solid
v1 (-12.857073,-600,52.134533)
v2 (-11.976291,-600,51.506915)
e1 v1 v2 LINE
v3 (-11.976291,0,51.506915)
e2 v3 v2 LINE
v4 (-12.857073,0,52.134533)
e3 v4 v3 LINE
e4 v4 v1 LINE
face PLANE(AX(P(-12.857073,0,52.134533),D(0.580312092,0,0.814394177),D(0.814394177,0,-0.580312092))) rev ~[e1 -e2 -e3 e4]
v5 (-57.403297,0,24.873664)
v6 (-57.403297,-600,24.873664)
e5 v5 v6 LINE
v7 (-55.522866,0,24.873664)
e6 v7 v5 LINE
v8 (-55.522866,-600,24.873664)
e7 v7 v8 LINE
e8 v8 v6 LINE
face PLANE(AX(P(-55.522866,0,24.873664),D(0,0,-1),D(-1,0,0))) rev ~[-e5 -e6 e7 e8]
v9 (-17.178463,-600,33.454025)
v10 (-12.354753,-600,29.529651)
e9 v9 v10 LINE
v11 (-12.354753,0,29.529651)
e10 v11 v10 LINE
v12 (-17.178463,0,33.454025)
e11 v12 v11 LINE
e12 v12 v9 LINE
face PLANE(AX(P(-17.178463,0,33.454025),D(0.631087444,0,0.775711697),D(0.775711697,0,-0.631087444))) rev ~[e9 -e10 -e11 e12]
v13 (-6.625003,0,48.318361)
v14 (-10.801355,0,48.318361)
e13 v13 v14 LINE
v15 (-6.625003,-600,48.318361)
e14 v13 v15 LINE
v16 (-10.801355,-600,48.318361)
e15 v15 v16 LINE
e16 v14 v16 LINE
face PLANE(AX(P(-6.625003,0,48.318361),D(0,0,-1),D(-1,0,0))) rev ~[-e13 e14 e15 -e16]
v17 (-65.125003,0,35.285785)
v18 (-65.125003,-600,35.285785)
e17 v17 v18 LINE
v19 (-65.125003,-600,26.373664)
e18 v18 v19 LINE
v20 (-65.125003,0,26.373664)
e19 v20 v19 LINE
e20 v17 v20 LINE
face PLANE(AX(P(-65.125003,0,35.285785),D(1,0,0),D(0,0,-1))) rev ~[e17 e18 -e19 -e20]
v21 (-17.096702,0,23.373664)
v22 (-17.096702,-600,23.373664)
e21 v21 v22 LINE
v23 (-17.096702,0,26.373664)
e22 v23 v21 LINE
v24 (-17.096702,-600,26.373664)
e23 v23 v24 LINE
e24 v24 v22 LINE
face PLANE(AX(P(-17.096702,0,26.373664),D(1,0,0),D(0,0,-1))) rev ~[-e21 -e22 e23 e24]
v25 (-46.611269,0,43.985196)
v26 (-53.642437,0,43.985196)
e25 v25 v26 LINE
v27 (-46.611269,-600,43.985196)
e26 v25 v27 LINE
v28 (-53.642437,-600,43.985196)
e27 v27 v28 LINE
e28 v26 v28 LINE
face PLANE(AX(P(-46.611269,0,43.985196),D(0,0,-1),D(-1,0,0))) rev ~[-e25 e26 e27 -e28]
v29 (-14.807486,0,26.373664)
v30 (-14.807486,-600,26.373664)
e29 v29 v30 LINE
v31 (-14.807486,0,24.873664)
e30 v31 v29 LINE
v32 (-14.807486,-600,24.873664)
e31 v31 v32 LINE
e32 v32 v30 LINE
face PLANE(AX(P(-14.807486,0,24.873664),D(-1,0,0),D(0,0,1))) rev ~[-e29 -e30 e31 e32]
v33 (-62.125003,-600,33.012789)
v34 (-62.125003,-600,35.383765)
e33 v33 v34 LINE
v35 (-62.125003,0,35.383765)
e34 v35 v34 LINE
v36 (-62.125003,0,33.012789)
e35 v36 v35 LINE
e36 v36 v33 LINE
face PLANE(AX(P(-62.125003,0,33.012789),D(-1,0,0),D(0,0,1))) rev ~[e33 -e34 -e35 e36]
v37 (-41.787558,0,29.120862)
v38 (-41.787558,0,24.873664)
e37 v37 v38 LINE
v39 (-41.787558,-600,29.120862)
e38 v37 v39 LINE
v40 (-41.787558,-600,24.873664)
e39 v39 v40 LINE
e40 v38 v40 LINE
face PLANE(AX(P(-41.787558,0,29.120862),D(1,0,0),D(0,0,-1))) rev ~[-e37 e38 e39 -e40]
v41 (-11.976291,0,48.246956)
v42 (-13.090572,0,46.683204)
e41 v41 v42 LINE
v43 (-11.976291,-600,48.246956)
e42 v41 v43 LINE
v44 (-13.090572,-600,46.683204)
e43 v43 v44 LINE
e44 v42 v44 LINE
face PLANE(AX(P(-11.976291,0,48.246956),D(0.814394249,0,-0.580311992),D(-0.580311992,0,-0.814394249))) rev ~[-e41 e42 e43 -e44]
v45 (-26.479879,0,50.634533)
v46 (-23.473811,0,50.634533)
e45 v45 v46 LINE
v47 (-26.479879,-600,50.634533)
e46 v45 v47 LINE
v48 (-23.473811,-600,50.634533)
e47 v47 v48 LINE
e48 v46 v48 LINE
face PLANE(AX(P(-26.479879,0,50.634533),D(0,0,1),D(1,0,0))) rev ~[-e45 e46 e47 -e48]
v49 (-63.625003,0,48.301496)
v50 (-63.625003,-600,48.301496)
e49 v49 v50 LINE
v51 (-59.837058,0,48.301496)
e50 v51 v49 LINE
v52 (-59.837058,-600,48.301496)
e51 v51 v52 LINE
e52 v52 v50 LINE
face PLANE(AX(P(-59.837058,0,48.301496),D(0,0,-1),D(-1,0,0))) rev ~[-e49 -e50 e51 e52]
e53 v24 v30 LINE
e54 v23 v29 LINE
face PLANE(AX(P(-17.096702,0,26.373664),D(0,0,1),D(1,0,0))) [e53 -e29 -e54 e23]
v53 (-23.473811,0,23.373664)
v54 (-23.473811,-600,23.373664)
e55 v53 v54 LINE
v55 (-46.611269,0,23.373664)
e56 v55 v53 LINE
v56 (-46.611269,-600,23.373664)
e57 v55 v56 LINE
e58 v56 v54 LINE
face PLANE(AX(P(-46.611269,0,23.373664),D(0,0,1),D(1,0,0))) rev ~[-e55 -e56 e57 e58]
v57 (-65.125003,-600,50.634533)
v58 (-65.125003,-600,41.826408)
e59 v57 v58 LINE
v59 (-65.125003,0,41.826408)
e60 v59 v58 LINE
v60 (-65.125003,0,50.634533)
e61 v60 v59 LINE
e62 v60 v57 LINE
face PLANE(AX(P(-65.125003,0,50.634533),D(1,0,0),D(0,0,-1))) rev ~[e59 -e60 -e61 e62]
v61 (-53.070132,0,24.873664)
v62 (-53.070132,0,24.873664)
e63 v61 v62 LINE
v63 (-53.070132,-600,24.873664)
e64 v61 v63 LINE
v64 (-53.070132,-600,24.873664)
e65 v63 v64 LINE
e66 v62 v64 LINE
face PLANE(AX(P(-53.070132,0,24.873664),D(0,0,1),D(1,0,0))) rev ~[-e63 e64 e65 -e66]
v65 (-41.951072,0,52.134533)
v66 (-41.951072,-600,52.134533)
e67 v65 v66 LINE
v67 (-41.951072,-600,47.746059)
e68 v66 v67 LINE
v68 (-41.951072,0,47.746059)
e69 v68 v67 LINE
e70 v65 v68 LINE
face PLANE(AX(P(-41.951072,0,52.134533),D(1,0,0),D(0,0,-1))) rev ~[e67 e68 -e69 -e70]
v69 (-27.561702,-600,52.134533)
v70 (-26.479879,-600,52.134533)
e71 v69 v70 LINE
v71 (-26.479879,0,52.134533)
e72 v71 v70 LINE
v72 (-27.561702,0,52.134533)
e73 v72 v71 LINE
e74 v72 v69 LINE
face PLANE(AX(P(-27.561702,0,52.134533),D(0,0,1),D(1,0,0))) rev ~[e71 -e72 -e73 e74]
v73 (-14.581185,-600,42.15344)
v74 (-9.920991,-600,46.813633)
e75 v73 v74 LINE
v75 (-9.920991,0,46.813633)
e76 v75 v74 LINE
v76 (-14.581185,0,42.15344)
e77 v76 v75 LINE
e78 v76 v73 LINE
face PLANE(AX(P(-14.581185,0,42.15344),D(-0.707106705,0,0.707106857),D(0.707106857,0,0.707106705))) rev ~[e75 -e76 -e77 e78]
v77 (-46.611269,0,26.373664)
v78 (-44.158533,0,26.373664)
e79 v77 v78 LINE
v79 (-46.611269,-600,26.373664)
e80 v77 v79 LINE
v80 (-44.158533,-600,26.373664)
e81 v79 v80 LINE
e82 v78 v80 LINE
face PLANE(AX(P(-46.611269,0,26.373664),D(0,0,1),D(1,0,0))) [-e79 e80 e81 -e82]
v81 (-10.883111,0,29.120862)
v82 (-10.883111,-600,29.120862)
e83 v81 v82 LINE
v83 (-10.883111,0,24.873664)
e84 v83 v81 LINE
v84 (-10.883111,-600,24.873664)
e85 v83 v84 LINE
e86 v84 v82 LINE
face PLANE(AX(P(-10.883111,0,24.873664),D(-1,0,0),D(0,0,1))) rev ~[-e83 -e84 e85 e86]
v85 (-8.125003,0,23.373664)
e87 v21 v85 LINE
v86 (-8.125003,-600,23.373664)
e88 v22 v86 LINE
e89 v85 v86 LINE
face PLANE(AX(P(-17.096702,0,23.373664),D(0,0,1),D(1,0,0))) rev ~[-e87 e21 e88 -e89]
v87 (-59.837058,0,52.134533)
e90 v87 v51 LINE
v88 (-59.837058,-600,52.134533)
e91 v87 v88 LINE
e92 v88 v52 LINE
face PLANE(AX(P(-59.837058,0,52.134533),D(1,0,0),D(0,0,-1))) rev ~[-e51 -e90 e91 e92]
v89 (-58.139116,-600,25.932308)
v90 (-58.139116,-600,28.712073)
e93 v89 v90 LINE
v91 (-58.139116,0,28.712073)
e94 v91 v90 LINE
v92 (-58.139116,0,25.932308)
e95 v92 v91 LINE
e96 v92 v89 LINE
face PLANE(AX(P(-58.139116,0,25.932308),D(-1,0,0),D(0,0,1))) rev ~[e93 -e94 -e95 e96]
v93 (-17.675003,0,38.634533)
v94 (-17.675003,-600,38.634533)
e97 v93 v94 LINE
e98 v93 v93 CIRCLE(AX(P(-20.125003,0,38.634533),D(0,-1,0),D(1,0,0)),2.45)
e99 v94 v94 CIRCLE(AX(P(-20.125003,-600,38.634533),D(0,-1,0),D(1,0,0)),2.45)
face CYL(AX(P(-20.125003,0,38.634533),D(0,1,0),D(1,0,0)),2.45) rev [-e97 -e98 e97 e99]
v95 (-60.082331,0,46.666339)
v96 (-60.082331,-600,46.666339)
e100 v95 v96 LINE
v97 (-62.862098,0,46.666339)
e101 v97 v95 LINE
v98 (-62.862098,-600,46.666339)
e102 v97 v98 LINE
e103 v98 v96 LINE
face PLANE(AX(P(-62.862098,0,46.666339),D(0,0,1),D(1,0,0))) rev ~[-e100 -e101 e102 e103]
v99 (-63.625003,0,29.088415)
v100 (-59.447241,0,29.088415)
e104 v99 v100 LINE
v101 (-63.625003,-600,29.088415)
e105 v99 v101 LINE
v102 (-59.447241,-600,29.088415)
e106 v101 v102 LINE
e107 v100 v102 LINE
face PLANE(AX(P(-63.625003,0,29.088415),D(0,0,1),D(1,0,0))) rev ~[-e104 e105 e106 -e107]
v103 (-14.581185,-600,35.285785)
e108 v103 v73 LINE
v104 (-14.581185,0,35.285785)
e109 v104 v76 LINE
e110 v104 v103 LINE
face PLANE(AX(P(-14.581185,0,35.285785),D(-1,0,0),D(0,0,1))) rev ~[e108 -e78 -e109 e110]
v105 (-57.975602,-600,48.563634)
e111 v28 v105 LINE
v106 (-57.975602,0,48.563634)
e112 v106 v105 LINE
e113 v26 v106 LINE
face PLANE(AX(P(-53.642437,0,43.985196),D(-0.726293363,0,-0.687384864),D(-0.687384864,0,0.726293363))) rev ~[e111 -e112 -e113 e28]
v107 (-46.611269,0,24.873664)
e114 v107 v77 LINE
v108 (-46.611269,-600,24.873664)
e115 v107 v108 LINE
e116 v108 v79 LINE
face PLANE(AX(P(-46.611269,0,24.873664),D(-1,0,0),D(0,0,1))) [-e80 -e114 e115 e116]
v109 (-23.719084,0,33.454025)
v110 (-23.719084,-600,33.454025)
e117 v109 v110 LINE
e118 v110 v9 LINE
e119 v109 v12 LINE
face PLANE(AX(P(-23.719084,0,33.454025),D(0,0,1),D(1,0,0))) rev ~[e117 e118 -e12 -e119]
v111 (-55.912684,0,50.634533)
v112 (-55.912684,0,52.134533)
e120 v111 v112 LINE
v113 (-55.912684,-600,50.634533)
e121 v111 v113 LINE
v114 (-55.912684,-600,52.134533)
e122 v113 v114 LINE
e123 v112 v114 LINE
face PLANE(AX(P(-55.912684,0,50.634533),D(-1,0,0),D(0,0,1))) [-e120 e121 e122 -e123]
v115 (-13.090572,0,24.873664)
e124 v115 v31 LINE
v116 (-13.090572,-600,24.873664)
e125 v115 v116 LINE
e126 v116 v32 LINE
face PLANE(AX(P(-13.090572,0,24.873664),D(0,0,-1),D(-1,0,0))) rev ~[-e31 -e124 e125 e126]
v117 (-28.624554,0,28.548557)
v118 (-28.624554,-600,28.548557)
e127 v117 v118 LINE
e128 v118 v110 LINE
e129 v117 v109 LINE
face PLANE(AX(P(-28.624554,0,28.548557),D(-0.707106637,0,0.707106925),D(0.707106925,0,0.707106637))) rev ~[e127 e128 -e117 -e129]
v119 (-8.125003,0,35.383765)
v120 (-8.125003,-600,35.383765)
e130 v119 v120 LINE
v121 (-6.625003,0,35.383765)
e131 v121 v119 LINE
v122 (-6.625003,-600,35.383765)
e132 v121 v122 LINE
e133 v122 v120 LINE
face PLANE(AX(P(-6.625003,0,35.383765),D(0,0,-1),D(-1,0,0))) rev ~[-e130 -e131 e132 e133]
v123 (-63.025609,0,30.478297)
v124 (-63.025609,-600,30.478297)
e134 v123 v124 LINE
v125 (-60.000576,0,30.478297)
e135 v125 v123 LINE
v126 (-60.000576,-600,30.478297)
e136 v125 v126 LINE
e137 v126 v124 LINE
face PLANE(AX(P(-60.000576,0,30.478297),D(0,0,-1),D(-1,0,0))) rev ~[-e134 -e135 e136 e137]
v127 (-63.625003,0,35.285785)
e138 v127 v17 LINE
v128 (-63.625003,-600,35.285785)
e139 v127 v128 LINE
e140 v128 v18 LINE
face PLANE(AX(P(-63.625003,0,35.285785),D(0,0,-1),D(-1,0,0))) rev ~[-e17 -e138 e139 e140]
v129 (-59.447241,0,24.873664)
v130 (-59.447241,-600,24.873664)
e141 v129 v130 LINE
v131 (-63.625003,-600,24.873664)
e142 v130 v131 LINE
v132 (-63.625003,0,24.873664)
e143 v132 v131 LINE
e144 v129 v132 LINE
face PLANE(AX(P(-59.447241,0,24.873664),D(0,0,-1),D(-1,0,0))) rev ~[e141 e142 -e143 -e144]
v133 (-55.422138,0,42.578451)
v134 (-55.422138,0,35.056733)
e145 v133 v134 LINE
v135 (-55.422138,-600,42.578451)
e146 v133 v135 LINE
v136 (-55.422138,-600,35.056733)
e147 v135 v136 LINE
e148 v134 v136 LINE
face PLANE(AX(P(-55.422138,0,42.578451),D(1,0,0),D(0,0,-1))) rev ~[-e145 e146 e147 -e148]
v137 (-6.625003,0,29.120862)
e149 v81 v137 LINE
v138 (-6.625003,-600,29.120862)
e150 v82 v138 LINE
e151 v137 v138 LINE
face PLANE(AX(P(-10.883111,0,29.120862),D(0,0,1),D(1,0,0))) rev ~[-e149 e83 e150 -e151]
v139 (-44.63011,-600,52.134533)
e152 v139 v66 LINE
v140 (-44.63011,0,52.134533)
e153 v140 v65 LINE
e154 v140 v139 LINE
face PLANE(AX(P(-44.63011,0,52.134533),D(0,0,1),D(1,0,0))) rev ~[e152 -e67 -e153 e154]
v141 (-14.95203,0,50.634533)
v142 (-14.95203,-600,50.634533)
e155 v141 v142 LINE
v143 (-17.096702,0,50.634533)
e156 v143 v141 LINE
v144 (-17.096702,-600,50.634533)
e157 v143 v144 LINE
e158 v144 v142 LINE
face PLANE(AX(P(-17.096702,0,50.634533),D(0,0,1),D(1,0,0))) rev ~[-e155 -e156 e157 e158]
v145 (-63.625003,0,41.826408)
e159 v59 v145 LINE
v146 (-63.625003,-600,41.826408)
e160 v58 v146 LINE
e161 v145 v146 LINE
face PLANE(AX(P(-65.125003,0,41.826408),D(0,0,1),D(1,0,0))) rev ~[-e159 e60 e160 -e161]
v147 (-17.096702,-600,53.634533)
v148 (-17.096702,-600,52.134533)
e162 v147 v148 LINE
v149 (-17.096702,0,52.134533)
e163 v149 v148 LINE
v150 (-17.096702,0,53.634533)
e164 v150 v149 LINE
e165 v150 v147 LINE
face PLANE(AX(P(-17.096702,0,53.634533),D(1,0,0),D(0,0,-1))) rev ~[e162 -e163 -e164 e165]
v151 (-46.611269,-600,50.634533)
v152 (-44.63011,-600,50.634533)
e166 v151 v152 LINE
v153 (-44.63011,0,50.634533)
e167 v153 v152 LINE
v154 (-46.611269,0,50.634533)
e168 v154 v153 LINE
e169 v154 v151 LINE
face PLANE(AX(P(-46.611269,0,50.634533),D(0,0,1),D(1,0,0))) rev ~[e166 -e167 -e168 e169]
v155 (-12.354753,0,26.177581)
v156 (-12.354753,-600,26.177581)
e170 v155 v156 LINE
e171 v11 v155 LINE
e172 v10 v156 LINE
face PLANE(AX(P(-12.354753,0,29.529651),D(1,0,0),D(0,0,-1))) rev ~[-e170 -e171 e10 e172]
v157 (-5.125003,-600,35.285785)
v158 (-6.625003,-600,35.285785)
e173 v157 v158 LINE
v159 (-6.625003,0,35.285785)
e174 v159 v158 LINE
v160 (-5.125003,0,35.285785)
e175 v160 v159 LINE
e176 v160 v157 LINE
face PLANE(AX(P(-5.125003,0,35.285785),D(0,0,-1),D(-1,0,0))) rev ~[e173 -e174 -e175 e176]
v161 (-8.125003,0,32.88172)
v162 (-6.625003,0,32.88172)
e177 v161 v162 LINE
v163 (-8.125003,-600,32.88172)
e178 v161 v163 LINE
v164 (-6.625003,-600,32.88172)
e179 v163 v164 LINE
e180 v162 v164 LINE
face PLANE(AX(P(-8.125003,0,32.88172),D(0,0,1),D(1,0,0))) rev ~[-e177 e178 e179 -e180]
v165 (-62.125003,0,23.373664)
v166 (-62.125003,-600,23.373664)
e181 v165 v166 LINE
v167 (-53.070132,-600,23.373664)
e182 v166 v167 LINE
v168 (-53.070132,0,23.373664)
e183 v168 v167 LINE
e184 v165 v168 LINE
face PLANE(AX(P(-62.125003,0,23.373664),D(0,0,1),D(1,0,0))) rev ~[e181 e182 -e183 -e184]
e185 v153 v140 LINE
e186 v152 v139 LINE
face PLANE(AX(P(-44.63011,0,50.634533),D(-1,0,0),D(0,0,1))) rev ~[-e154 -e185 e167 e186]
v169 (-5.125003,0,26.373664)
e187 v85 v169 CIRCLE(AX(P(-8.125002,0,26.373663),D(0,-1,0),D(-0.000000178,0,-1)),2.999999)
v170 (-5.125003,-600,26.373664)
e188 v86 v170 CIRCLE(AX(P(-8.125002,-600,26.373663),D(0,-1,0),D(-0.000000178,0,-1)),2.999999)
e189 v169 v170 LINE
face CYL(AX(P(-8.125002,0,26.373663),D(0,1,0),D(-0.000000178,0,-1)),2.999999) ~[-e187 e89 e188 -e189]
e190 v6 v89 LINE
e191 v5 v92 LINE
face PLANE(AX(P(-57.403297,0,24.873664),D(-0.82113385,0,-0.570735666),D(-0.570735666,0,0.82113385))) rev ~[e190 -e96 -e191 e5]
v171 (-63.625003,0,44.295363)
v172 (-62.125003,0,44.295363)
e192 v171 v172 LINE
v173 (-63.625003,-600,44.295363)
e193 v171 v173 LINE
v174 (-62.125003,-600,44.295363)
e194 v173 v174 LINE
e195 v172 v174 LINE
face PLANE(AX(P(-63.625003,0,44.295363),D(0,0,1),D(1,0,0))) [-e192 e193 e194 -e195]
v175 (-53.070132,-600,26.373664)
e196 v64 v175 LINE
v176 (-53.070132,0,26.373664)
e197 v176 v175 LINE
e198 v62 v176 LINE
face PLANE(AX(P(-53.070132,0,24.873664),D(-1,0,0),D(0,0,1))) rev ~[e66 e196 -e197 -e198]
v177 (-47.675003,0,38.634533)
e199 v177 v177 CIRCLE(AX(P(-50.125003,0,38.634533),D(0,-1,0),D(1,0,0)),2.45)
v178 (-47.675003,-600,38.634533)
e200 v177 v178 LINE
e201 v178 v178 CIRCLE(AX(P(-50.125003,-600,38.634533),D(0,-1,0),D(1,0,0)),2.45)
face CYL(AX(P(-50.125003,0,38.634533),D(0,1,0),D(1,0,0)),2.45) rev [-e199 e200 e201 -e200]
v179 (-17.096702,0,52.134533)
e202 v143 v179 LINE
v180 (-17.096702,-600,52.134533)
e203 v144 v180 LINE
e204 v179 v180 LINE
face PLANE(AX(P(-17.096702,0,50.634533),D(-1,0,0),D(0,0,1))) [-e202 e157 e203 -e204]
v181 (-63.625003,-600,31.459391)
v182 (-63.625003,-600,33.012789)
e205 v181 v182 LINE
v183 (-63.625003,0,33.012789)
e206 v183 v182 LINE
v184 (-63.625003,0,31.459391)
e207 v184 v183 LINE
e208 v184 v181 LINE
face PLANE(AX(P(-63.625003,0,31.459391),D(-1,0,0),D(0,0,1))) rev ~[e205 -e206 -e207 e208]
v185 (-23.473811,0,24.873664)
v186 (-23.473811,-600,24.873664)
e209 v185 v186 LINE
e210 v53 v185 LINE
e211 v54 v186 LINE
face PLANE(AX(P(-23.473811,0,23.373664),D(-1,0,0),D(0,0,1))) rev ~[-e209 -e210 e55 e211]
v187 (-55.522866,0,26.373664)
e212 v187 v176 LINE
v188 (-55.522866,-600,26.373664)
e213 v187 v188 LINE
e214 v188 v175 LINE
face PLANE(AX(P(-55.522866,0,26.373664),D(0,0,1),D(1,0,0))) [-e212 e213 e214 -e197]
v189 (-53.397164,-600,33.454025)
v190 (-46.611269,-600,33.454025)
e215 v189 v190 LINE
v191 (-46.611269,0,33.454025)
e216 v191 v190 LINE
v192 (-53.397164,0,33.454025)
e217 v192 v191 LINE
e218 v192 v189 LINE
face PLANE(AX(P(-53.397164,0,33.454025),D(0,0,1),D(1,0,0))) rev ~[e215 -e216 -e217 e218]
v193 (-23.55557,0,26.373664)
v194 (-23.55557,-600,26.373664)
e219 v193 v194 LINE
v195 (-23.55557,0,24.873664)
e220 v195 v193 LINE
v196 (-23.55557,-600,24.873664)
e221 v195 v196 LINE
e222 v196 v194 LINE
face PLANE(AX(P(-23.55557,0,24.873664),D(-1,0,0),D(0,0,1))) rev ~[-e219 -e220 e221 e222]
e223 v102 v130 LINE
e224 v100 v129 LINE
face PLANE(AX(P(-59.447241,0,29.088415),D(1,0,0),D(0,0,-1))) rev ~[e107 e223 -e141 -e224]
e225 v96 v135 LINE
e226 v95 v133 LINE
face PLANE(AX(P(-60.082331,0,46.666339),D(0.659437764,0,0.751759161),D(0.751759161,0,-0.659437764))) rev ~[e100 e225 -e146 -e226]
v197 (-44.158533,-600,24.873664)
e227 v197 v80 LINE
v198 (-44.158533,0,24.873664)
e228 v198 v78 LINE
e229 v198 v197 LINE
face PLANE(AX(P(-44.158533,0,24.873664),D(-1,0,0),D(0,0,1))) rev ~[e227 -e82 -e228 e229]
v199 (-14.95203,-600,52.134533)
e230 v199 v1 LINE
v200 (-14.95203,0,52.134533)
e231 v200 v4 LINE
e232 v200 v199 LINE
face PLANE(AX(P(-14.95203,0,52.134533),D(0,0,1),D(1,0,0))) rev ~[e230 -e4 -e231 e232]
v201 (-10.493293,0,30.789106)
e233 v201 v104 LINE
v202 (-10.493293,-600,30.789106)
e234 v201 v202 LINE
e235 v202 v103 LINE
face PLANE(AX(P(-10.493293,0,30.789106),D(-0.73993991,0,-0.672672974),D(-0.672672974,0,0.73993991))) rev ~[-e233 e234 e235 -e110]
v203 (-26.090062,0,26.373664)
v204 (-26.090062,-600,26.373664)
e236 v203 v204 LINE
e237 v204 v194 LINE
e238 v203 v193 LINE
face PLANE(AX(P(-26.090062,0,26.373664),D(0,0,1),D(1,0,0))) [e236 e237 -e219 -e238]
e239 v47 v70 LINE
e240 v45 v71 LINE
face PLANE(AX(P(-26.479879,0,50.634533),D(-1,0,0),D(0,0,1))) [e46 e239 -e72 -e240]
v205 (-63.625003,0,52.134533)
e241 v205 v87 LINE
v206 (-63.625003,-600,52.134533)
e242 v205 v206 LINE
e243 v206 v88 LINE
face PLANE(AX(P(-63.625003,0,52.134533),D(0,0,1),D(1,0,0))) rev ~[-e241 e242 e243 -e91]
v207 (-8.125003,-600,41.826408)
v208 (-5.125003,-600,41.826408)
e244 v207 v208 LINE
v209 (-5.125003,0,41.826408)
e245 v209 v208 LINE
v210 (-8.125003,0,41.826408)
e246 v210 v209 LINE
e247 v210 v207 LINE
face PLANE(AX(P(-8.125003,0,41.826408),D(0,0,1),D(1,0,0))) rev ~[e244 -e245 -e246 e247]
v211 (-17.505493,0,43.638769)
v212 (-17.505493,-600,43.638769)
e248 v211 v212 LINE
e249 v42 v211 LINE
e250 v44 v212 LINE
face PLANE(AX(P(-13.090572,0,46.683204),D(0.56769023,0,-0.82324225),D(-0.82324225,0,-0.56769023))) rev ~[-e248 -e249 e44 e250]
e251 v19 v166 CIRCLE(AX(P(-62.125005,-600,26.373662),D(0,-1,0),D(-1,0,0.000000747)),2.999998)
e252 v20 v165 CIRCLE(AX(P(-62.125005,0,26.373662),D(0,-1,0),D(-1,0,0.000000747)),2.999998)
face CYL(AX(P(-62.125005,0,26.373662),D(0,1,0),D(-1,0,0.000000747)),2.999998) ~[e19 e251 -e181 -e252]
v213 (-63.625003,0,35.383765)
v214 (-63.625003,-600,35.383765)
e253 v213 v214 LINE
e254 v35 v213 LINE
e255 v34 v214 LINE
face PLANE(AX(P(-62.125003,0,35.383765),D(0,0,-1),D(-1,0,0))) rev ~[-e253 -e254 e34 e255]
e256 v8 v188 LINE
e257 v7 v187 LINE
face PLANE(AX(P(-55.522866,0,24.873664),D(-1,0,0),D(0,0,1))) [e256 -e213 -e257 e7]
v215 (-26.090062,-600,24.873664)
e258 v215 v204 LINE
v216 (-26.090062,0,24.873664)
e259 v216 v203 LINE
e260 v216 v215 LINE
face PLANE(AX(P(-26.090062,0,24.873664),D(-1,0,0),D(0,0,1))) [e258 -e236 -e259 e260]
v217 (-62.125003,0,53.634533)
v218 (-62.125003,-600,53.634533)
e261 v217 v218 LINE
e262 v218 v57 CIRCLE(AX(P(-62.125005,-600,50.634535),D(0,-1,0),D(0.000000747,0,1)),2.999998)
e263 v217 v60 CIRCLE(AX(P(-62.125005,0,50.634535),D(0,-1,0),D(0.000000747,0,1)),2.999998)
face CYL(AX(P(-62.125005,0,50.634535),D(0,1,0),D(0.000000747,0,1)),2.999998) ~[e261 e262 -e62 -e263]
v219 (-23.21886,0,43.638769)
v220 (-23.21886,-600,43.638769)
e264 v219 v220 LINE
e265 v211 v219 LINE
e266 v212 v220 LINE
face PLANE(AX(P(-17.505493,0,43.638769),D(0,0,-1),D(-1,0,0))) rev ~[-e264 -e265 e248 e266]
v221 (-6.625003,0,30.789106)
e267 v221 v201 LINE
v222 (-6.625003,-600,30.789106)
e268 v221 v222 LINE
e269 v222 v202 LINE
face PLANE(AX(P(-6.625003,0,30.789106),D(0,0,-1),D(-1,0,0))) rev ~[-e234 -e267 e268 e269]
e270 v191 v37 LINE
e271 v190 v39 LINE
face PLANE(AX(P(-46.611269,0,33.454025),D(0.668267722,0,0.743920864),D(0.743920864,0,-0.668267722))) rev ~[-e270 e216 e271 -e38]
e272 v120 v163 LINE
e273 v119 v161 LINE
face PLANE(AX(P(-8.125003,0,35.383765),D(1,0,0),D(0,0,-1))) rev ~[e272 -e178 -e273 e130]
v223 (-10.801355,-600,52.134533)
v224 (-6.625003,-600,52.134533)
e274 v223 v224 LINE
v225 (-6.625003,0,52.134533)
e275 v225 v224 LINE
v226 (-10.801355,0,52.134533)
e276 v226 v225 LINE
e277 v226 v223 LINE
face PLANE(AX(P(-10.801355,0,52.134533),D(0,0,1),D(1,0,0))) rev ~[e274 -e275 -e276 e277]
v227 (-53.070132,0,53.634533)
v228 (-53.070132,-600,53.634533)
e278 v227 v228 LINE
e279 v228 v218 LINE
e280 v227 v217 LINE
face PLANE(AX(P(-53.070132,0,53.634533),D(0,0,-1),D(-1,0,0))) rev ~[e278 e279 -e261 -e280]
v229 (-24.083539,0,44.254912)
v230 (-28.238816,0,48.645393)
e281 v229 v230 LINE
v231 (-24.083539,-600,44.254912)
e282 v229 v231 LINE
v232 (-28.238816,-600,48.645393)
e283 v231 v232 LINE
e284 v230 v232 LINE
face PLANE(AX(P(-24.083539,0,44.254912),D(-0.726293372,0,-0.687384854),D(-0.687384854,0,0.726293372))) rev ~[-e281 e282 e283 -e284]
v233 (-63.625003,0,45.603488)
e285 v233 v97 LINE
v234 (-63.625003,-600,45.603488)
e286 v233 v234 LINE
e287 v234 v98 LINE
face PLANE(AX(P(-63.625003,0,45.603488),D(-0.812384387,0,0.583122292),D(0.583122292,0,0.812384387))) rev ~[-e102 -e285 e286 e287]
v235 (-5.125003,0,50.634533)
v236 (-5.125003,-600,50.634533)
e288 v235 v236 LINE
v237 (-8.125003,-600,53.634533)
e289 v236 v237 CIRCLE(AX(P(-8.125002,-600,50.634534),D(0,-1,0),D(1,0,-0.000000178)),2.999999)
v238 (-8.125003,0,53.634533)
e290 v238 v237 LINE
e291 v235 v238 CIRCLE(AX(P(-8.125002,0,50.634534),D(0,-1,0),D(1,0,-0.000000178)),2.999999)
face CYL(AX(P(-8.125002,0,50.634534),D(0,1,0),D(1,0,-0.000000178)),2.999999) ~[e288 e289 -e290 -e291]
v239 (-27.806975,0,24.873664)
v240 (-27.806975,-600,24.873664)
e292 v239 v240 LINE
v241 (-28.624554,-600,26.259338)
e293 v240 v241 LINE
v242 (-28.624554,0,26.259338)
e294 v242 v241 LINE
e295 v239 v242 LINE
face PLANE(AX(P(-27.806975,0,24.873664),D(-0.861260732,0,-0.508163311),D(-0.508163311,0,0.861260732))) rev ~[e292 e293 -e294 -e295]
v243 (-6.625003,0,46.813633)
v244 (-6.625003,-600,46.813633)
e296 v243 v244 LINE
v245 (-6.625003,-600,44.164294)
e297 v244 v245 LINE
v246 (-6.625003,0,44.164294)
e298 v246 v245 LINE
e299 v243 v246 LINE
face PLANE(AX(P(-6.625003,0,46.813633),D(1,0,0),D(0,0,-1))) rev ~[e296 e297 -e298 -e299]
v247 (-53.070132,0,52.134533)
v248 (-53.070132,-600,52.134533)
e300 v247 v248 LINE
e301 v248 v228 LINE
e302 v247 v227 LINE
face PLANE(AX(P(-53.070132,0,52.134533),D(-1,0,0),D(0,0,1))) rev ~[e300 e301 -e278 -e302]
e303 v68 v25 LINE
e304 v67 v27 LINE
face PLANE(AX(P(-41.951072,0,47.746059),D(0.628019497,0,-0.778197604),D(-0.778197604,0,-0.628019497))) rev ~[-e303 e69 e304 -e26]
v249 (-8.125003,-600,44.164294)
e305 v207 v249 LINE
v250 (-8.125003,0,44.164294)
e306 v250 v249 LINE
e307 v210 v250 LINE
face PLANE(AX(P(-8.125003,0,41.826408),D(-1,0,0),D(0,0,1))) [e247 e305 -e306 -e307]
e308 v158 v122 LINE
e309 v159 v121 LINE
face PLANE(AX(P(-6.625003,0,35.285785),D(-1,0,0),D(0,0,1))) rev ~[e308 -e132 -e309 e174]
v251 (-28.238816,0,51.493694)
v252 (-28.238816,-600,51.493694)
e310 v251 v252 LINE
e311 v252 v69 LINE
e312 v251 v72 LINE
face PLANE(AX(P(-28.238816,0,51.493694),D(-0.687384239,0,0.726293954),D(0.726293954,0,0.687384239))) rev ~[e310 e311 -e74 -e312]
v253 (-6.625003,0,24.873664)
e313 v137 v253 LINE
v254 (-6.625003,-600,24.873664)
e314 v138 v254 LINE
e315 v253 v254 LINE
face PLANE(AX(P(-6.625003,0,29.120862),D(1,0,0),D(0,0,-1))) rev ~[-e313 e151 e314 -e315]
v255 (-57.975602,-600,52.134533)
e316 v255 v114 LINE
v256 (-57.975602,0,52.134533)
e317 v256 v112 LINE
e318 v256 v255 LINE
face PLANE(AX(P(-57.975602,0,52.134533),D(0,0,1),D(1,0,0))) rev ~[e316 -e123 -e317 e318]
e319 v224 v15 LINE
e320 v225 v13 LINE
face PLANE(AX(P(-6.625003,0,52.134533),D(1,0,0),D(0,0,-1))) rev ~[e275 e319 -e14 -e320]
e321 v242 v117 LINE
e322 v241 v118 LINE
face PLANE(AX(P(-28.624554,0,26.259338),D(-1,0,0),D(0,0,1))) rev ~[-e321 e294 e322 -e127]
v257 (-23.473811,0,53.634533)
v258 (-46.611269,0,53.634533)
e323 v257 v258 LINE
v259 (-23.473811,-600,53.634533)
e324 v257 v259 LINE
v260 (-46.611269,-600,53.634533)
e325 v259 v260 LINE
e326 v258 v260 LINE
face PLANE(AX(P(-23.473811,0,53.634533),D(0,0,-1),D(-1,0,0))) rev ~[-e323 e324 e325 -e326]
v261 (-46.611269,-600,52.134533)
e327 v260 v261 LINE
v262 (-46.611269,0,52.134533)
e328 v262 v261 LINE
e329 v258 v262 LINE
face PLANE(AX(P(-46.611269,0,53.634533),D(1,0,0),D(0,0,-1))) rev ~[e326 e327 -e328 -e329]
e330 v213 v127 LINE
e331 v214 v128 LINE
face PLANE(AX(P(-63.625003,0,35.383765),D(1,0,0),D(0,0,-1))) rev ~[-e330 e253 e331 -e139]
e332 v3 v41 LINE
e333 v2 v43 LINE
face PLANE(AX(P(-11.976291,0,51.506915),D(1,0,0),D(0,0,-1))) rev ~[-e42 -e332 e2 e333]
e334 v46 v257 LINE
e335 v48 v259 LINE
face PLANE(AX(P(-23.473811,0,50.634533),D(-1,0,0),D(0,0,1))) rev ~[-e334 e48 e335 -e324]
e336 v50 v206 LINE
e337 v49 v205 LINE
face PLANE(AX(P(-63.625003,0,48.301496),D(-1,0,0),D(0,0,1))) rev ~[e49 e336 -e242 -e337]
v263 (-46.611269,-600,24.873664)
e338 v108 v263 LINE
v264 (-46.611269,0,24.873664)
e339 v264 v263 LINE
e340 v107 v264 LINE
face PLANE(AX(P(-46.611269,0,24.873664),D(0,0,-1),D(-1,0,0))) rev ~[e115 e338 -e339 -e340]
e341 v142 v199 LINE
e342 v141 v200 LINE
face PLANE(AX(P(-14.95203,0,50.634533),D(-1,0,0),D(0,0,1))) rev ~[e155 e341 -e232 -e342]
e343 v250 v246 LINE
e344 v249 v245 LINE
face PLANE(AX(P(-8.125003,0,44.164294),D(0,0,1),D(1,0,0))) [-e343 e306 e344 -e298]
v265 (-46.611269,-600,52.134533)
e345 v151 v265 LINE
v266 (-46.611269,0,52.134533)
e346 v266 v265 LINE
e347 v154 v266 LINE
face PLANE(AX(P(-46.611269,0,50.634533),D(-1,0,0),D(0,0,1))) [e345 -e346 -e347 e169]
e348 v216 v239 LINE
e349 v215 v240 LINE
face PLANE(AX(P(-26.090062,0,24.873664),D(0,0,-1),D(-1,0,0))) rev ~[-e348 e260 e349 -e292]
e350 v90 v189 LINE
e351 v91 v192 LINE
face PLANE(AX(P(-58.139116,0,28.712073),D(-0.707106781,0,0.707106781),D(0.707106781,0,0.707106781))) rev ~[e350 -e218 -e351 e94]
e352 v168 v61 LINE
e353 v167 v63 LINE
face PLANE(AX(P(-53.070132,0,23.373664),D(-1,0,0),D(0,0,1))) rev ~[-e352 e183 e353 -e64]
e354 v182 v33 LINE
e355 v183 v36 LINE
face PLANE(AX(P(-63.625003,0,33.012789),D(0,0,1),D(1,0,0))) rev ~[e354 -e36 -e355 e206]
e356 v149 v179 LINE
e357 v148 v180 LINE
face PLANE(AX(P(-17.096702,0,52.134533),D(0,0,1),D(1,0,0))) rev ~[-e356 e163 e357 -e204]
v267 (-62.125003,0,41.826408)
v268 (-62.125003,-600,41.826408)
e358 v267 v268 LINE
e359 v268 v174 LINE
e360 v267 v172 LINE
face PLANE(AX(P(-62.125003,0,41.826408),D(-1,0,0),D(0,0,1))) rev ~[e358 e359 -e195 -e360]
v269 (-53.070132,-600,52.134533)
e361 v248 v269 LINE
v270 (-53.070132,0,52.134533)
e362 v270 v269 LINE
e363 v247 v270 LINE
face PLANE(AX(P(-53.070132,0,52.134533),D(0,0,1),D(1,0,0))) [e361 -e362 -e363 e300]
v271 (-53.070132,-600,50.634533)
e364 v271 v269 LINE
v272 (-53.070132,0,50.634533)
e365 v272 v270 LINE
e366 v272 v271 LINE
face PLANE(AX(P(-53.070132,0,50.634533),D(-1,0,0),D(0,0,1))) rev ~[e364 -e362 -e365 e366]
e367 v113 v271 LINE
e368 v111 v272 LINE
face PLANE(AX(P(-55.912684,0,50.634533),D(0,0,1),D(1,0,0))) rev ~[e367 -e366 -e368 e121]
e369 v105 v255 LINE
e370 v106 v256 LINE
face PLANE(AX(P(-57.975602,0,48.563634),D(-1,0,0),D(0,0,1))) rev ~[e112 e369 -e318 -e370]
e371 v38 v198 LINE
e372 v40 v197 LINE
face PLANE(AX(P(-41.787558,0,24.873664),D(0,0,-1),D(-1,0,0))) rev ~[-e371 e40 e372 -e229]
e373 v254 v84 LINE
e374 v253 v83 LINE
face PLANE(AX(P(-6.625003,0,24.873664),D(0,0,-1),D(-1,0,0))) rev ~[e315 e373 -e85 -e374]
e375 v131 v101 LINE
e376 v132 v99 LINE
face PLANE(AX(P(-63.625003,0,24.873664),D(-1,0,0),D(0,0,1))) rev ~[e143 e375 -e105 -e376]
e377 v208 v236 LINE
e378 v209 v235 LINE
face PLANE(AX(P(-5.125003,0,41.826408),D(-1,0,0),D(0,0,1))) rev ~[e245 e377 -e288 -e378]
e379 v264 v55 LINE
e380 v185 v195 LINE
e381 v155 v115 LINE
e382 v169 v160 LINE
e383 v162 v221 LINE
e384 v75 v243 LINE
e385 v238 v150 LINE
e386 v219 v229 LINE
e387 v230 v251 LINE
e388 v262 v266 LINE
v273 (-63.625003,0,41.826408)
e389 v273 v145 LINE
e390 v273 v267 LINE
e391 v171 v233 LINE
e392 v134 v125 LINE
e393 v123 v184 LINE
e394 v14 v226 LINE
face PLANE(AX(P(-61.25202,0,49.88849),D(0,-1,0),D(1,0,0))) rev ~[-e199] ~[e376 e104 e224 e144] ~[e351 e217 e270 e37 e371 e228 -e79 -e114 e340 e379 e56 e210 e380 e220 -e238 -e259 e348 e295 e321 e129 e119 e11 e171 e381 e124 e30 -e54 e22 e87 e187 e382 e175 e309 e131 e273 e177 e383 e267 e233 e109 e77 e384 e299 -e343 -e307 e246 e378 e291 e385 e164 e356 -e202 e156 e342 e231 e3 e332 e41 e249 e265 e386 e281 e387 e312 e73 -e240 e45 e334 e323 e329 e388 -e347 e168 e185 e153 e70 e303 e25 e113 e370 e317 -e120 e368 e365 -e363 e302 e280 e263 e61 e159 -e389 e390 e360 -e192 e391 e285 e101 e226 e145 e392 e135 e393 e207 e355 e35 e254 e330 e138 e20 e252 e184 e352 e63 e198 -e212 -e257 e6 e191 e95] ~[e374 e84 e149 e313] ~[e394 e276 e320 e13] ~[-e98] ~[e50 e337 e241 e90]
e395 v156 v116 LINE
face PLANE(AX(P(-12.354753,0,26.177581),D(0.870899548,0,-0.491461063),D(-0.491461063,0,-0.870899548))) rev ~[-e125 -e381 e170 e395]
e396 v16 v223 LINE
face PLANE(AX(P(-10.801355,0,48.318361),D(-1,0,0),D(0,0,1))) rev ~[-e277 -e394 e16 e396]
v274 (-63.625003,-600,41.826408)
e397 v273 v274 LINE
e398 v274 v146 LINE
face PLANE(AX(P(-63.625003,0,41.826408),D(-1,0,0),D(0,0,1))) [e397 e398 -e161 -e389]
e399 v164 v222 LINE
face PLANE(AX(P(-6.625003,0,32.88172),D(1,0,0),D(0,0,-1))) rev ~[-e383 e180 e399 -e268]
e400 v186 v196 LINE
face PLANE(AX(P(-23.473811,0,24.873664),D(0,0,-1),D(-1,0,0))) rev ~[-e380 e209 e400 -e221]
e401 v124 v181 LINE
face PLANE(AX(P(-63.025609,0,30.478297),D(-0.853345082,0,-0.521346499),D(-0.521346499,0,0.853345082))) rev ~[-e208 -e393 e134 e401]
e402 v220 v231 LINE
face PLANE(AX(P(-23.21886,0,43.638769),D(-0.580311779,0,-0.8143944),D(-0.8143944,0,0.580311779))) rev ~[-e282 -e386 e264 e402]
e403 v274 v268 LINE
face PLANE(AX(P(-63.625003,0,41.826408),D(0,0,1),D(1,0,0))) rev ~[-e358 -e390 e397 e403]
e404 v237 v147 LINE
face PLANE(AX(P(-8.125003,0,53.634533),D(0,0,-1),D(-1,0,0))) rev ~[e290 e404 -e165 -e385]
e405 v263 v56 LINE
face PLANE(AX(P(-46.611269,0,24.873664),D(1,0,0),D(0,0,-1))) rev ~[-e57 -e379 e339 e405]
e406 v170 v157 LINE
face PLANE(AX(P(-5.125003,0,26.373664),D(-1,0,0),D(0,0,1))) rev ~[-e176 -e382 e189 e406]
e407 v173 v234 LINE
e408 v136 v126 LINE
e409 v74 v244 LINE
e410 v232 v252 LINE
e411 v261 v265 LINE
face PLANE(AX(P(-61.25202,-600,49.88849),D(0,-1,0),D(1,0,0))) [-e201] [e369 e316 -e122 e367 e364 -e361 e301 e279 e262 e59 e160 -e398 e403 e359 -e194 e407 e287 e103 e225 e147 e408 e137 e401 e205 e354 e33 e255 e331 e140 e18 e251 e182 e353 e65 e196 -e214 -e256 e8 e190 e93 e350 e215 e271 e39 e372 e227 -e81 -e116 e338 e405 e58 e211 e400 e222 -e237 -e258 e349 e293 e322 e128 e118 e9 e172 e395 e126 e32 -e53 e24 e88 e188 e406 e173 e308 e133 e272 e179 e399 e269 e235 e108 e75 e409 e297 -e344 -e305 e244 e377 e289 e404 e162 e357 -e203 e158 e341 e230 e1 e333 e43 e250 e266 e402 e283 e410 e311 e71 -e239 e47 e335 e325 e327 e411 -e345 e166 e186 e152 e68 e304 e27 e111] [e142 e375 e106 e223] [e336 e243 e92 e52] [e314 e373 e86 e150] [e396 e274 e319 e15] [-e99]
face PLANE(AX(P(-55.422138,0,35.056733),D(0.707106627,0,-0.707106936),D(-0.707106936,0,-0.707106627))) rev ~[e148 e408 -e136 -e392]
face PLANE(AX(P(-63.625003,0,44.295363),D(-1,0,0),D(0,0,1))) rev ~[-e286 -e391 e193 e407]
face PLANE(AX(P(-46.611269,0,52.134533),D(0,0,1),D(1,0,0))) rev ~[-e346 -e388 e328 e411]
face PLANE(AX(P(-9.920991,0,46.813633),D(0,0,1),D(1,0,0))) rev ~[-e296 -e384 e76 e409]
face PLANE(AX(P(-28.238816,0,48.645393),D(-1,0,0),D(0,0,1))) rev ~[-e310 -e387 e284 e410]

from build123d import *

# Parameters (mm, degrees)
F0_R     = 2.45
F0_W     = 1.981159
F0_H     = 1.5
F0_W_2   = 2.842553
F0_W_3   = 1.5
F0_H_2   = 2.468955
F0_W_4   = 2.452735
F0_W_5   = 2.534492
F0_W_6   = 2.289216
F0_H_3   = 2.337886
F0_W_7   = 2.144671
F0_W_8   = 3.006068
F1_DEPTH = 600


with BuildPart() as f1:
    # F0 (on Front) → F1 (new body)
    with BuildSketch(Plane.XZ):
        with BuildLine():
            Line((-53.070132, 53.634533), (-62.125003, 53.634533))
            ThreePointArc((-62.125003, 53.634533), (-64.246324, 52.755854), (-65.125003, 50.634533))
            Line((-65.125003, 50.634533), (-65.125003, 41.826408))
            Line((-65.125003, 41.826408), (-63.625003, 41.826408))
            Line((-63.625003, 41.826408), (-63.625003, 44.295363))
            Line((-63.625003, 44.295363), (-63.625003, 45.603488))
            Line((-63.625003, 45.603488), (-63.625003, 48.301496))
            Line((-63.625003, 48.301496), (-63.625003, 51.134533))
            Line((-63.625003, 51.134533), (-63.625003, 52.134533))
            Line((-63.625003, 52.134533), (-62.625003, 52.134533))
            Line((-62.625003, 52.134533), (-59.837058, 52.134533))
            Line((-59.837058, 52.134533), (-57.975602, 52.134533))
            Line((-57.975602, 52.134533), (-55.912685, 52.134533))
            Line((-55.912685, 52.134533), (-53.070132, 52.134533))
            Line((-53.070132, 52.134533), (-53.070132, 53.634533))
        make_face()
        Polygon((-23.473811, 53.634533), (-46.611269, 53.634533), (-46.611269, 52.134533), (-44.63011, 52.134533), (-41.951072, 52.134533), (-38.108457, 52.134533), (-32.058381, 52.134533), (-27.561702, 52.134533), (-26.479879, 52.134533), (-23.473811, 52.134533), align=None)
        with BuildLine():
            Line((-8.125003, 53.634533), (-17.096702, 53.634533))
            Line((-17.096702, 53.634533), (-17.096702, 52.134533))
            Line((-17.096702, 52.134533), (-14.952031, 52.134533))
            Line((-14.952031, 52.134533), (-12.857073, 52.134533))
            Line((-12.857073, 52.134533), (-10.801355, 52.134533))
            Line((-10.801355, 52.134533), (-7.625003, 52.134533))
            Line((-7.625003, 52.134533), (-6.625003, 52.134533))
            Line((-6.625003, 52.134533), (-6.625003, 51.134533))
            Line((-6.625003, 51.134533), (-6.625003, 48.318361))
            Line((-6.625003, 48.318361), (-6.625003, 46.813633))
            Line((-6.625003, 46.813633), (-6.625003, 44.164294))
            Line((-6.625003, 44.164294), (-6.625003, 41.826408))
            Line((-6.625003, 41.826408), (-5.125003, 41.826408))
            Line((-5.125003, 41.826408), (-5.125003, 50.634533))
            ThreePointArc((-5.125003, 50.634533), (-6.003683, 52.755854), (-8.125003, 53.634533))
        make_face()
        with BuildLine():
            Line((-63.625003, 35.285785), (-65.125003, 35.285785))
            Line((-65.125003, 35.285785), (-65.125003, 26.373664))
            ThreePointArc((-65.125003, 26.373664), (-64.246324, 24.252343), (-62.125003, 23.373664))
            Line((-62.125003, 23.373664), (-53.070132, 23.373664))
            Line((-53.070132, 23.373664), (-53.070132, 24.873664))
            Line((-53.070132, 24.873664), (-55.522867, 24.873664))
            Line((-55.522867, 24.873664), (-57.403297, 24.873664))
            Line((-57.403297, 24.873664), (-59.447241, 24.873664))
            Line((-59.447241, 24.873664), (-62.625003, 24.873664))
            Line((-62.625003, 24.873664), (-63.625003, 24.873664))
            Line((-63.625003, 24.873664), (-63.625003, 25.873664))
            Line((-63.625003, 25.873664), (-63.625003, 29.088415))
            Line((-63.625003, 29.088415), (-63.625003, 31.459391))
            Line((-63.625003, 31.459391), (-63.625003, 33.012789))
            Line((-63.625003, 33.012789), (-63.625003, 35.285785))
        make_face()
        Polygon((-46.611269, 24.873664), (-46.611269, 23.373664), (-23.473811, 23.373664), (-23.473811, 24.873664), (-23.55557, 24.873664), (-26.090062, 24.873664), (-27.806975, 24.873664), (-31.894863, 24.873664), (-38.35373, 24.873664), (-41.787558, 24.873664), (-44.158534, 24.873664), align=None)
        with BuildLine():
            Line((-5.125003, 26.373664), (-5.125003, 35.285785))
            Line((-5.125003, 35.285785), (-6.625003, 35.285785))
            Line((-6.625003, 35.285785), (-6.625003, 32.88172))
            Line((-6.625003, 32.88172), (-6.625003, 30.789106))
            Line((-6.625003, 30.789106), (-6.625003, 29.120862))
            Line((-6.625003, 29.120862), (-6.625003, 25.773664))
            Line((-6.625003, 25.773664), (-6.625003, 24.873664))
            Line((-6.625003, 24.873664), (-7.525003, 24.873664))
            Line((-7.525003, 24.873664), (-10.883111, 24.873664))
            Line((-10.883111, 24.873664), (-13.090572, 24.873664))
            Line((-13.090572, 24.873664), (-14.807486, 24.873664))
            Line((-14.807486, 24.873664), (-17.096702, 24.873664))
            Line((-17.096702, 24.873664), (-17.096702, 23.373664))
            Line((-17.096702, 23.373664), (-8.125003, 23.373664))
            ThreePointArc((-8.125003, 23.373664), (-6.003683, 24.252343), (-5.125003, 26.373664))
        make_face()
        Polygon((-28.238816, 51.493694), (-27.561702, 52.134533), (-32.058381, 52.134533), (-38.108457, 52.134533), (-40.070646, 50.607581), (-40.070646, 47.991332), (-41.133494, 46.110899), (-44.240293, 43.004104), (-45.057871, 41.695979), (-45.057871, 35.891176), (-44.076775, 34.256019), (-40.888221, 30.98571), (-39.988887, 29.10528), (-39.988887, 27.63364), (-39.253068, 26.325515), (-38.35373, 24.873664), (-31.894863, 24.873664), (-27.806975, 24.873664), (-28.624554, 26.259338), (-28.624554, 28.548557), (-23.719084, 33.454025), (-17.178463, 33.454025), (-12.354753, 29.529651), (-12.354753, 26.177581), (-13.090572, 24.873664), (-10.883111, 24.873664), (-10.883111, 29.120862), (-6.625003, 29.120862), (-6.625003, 30.789106), (-10.493293, 30.789106), (-14.581185, 35.285785), (-14.581185, 42.15344), (-9.920991, 46.813633), (-6.625003, 46.813633), (-6.625003, 48.318361), (-10.801355, 48.318361), (-10.801355, 52.134533), (-12.857073, 52.134533), (-11.976291, 51.506915), (-11.976291, 48.246956), (-13.090572, 46.683204), (-17.505493, 43.638769), (-23.21886, 43.638769), (-24.083539, 44.254912), (-28.238816, 48.645393), align=None)
        with Locations((-20.125003, 38.634533)):
            Circle(F0_R, mode=Mode.SUBTRACT)
        Polygon((-57.975602, 48.563634), (-57.975602, 52.134533), (-59.837058, 52.134533), (-59.837058, 48.301496), (-63.625003, 48.301496), (-63.625003, 45.603488), (-62.862098, 46.666339), (-60.082331, 46.666339), (-55.422138, 42.578451), (-55.422138, 35.056733), (-60.000576, 30.478297), (-63.025609, 30.478297), (-63.625003, 31.459391), (-63.625003, 29.088415), (-59.447241, 29.088415), (-59.447241, 24.873664), (-57.403297, 24.873664), (-58.139116, 25.932308), (-58.139116, 28.712073), (-53.397164, 33.454025), (-46.611269, 33.454025), (-41.787558, 29.120862), (-41.787558, 25.687035), (-41.787558, 24.873664), (-38.35373, 24.873664), (-39.253068, 26.325515), (-39.988887, 27.63364), (-39.988887, 29.10528), (-40.888221, 30.98571), (-44.076775, 34.256019), (-45.057871, 35.891176), (-45.057871, 41.695979), (-44.240293, 43.004104), (-41.133494, 46.110899), (-40.070646, 47.991332), (-40.070646, 50.607581), (-38.108457, 52.134533), (-41.951072, 52.134533), (-41.951072, 47.746059), (-46.611269, 43.985196), (-53.642437, 43.985196), align=None)
        with Locations((-50.125003, 38.634533)):
            Circle(F0_R, mode=Mode.SUBTRACT)
        with Locations((-45.620689, 51.384533)):
            Rectangle(F0_W, F0_H)
        with Locations((-54.491408, 51.384533)):
            Rectangle(F0_W_2, F0_H)
        with Locations((-62.875003, 43.060885)):
            Rectangle(F0_W_3, F0_H_2)
        Polygon((-63.625003, 35.383765), (-63.625003, 35.285785), (-63.625003, 33.012789), (-62.125003, 33.012789), (-62.125003, 35.383765), align=None)
        with Locations((-54.296499, 25.623664)):
            Rectangle(F0_W_4, F0_H)
        with Locations((-45.384901, 25.623664)):
            Rectangle(F0_W_4, F0_H)
        with Locations((-24.822816, 25.623664)):
            Rectangle(F0_W_5, F0_H)
        with Locations((-15.952094, 25.623664)):
            Rectangle(F0_W_6, F0_H)
        Polygon((-6.625003, 32.88172), (-6.625003, 35.285785), (-6.625003, 35.383765), (-8.125003, 35.383765), (-8.125003, 32.88172), align=None)
        with Locations((-7.375003, 42.995351)):
            Rectangle(F0_W_3, F0_H_3)
        with Locations((-16.024366, 51.384533)):
            Rectangle(F0_W_7, F0_H)
        with Locations((-24.976845, 51.384533)):
            Rectangle(F0_W_8, F0_H)
    extrude(amount=F1_DEPTH)


solid = f1.part
